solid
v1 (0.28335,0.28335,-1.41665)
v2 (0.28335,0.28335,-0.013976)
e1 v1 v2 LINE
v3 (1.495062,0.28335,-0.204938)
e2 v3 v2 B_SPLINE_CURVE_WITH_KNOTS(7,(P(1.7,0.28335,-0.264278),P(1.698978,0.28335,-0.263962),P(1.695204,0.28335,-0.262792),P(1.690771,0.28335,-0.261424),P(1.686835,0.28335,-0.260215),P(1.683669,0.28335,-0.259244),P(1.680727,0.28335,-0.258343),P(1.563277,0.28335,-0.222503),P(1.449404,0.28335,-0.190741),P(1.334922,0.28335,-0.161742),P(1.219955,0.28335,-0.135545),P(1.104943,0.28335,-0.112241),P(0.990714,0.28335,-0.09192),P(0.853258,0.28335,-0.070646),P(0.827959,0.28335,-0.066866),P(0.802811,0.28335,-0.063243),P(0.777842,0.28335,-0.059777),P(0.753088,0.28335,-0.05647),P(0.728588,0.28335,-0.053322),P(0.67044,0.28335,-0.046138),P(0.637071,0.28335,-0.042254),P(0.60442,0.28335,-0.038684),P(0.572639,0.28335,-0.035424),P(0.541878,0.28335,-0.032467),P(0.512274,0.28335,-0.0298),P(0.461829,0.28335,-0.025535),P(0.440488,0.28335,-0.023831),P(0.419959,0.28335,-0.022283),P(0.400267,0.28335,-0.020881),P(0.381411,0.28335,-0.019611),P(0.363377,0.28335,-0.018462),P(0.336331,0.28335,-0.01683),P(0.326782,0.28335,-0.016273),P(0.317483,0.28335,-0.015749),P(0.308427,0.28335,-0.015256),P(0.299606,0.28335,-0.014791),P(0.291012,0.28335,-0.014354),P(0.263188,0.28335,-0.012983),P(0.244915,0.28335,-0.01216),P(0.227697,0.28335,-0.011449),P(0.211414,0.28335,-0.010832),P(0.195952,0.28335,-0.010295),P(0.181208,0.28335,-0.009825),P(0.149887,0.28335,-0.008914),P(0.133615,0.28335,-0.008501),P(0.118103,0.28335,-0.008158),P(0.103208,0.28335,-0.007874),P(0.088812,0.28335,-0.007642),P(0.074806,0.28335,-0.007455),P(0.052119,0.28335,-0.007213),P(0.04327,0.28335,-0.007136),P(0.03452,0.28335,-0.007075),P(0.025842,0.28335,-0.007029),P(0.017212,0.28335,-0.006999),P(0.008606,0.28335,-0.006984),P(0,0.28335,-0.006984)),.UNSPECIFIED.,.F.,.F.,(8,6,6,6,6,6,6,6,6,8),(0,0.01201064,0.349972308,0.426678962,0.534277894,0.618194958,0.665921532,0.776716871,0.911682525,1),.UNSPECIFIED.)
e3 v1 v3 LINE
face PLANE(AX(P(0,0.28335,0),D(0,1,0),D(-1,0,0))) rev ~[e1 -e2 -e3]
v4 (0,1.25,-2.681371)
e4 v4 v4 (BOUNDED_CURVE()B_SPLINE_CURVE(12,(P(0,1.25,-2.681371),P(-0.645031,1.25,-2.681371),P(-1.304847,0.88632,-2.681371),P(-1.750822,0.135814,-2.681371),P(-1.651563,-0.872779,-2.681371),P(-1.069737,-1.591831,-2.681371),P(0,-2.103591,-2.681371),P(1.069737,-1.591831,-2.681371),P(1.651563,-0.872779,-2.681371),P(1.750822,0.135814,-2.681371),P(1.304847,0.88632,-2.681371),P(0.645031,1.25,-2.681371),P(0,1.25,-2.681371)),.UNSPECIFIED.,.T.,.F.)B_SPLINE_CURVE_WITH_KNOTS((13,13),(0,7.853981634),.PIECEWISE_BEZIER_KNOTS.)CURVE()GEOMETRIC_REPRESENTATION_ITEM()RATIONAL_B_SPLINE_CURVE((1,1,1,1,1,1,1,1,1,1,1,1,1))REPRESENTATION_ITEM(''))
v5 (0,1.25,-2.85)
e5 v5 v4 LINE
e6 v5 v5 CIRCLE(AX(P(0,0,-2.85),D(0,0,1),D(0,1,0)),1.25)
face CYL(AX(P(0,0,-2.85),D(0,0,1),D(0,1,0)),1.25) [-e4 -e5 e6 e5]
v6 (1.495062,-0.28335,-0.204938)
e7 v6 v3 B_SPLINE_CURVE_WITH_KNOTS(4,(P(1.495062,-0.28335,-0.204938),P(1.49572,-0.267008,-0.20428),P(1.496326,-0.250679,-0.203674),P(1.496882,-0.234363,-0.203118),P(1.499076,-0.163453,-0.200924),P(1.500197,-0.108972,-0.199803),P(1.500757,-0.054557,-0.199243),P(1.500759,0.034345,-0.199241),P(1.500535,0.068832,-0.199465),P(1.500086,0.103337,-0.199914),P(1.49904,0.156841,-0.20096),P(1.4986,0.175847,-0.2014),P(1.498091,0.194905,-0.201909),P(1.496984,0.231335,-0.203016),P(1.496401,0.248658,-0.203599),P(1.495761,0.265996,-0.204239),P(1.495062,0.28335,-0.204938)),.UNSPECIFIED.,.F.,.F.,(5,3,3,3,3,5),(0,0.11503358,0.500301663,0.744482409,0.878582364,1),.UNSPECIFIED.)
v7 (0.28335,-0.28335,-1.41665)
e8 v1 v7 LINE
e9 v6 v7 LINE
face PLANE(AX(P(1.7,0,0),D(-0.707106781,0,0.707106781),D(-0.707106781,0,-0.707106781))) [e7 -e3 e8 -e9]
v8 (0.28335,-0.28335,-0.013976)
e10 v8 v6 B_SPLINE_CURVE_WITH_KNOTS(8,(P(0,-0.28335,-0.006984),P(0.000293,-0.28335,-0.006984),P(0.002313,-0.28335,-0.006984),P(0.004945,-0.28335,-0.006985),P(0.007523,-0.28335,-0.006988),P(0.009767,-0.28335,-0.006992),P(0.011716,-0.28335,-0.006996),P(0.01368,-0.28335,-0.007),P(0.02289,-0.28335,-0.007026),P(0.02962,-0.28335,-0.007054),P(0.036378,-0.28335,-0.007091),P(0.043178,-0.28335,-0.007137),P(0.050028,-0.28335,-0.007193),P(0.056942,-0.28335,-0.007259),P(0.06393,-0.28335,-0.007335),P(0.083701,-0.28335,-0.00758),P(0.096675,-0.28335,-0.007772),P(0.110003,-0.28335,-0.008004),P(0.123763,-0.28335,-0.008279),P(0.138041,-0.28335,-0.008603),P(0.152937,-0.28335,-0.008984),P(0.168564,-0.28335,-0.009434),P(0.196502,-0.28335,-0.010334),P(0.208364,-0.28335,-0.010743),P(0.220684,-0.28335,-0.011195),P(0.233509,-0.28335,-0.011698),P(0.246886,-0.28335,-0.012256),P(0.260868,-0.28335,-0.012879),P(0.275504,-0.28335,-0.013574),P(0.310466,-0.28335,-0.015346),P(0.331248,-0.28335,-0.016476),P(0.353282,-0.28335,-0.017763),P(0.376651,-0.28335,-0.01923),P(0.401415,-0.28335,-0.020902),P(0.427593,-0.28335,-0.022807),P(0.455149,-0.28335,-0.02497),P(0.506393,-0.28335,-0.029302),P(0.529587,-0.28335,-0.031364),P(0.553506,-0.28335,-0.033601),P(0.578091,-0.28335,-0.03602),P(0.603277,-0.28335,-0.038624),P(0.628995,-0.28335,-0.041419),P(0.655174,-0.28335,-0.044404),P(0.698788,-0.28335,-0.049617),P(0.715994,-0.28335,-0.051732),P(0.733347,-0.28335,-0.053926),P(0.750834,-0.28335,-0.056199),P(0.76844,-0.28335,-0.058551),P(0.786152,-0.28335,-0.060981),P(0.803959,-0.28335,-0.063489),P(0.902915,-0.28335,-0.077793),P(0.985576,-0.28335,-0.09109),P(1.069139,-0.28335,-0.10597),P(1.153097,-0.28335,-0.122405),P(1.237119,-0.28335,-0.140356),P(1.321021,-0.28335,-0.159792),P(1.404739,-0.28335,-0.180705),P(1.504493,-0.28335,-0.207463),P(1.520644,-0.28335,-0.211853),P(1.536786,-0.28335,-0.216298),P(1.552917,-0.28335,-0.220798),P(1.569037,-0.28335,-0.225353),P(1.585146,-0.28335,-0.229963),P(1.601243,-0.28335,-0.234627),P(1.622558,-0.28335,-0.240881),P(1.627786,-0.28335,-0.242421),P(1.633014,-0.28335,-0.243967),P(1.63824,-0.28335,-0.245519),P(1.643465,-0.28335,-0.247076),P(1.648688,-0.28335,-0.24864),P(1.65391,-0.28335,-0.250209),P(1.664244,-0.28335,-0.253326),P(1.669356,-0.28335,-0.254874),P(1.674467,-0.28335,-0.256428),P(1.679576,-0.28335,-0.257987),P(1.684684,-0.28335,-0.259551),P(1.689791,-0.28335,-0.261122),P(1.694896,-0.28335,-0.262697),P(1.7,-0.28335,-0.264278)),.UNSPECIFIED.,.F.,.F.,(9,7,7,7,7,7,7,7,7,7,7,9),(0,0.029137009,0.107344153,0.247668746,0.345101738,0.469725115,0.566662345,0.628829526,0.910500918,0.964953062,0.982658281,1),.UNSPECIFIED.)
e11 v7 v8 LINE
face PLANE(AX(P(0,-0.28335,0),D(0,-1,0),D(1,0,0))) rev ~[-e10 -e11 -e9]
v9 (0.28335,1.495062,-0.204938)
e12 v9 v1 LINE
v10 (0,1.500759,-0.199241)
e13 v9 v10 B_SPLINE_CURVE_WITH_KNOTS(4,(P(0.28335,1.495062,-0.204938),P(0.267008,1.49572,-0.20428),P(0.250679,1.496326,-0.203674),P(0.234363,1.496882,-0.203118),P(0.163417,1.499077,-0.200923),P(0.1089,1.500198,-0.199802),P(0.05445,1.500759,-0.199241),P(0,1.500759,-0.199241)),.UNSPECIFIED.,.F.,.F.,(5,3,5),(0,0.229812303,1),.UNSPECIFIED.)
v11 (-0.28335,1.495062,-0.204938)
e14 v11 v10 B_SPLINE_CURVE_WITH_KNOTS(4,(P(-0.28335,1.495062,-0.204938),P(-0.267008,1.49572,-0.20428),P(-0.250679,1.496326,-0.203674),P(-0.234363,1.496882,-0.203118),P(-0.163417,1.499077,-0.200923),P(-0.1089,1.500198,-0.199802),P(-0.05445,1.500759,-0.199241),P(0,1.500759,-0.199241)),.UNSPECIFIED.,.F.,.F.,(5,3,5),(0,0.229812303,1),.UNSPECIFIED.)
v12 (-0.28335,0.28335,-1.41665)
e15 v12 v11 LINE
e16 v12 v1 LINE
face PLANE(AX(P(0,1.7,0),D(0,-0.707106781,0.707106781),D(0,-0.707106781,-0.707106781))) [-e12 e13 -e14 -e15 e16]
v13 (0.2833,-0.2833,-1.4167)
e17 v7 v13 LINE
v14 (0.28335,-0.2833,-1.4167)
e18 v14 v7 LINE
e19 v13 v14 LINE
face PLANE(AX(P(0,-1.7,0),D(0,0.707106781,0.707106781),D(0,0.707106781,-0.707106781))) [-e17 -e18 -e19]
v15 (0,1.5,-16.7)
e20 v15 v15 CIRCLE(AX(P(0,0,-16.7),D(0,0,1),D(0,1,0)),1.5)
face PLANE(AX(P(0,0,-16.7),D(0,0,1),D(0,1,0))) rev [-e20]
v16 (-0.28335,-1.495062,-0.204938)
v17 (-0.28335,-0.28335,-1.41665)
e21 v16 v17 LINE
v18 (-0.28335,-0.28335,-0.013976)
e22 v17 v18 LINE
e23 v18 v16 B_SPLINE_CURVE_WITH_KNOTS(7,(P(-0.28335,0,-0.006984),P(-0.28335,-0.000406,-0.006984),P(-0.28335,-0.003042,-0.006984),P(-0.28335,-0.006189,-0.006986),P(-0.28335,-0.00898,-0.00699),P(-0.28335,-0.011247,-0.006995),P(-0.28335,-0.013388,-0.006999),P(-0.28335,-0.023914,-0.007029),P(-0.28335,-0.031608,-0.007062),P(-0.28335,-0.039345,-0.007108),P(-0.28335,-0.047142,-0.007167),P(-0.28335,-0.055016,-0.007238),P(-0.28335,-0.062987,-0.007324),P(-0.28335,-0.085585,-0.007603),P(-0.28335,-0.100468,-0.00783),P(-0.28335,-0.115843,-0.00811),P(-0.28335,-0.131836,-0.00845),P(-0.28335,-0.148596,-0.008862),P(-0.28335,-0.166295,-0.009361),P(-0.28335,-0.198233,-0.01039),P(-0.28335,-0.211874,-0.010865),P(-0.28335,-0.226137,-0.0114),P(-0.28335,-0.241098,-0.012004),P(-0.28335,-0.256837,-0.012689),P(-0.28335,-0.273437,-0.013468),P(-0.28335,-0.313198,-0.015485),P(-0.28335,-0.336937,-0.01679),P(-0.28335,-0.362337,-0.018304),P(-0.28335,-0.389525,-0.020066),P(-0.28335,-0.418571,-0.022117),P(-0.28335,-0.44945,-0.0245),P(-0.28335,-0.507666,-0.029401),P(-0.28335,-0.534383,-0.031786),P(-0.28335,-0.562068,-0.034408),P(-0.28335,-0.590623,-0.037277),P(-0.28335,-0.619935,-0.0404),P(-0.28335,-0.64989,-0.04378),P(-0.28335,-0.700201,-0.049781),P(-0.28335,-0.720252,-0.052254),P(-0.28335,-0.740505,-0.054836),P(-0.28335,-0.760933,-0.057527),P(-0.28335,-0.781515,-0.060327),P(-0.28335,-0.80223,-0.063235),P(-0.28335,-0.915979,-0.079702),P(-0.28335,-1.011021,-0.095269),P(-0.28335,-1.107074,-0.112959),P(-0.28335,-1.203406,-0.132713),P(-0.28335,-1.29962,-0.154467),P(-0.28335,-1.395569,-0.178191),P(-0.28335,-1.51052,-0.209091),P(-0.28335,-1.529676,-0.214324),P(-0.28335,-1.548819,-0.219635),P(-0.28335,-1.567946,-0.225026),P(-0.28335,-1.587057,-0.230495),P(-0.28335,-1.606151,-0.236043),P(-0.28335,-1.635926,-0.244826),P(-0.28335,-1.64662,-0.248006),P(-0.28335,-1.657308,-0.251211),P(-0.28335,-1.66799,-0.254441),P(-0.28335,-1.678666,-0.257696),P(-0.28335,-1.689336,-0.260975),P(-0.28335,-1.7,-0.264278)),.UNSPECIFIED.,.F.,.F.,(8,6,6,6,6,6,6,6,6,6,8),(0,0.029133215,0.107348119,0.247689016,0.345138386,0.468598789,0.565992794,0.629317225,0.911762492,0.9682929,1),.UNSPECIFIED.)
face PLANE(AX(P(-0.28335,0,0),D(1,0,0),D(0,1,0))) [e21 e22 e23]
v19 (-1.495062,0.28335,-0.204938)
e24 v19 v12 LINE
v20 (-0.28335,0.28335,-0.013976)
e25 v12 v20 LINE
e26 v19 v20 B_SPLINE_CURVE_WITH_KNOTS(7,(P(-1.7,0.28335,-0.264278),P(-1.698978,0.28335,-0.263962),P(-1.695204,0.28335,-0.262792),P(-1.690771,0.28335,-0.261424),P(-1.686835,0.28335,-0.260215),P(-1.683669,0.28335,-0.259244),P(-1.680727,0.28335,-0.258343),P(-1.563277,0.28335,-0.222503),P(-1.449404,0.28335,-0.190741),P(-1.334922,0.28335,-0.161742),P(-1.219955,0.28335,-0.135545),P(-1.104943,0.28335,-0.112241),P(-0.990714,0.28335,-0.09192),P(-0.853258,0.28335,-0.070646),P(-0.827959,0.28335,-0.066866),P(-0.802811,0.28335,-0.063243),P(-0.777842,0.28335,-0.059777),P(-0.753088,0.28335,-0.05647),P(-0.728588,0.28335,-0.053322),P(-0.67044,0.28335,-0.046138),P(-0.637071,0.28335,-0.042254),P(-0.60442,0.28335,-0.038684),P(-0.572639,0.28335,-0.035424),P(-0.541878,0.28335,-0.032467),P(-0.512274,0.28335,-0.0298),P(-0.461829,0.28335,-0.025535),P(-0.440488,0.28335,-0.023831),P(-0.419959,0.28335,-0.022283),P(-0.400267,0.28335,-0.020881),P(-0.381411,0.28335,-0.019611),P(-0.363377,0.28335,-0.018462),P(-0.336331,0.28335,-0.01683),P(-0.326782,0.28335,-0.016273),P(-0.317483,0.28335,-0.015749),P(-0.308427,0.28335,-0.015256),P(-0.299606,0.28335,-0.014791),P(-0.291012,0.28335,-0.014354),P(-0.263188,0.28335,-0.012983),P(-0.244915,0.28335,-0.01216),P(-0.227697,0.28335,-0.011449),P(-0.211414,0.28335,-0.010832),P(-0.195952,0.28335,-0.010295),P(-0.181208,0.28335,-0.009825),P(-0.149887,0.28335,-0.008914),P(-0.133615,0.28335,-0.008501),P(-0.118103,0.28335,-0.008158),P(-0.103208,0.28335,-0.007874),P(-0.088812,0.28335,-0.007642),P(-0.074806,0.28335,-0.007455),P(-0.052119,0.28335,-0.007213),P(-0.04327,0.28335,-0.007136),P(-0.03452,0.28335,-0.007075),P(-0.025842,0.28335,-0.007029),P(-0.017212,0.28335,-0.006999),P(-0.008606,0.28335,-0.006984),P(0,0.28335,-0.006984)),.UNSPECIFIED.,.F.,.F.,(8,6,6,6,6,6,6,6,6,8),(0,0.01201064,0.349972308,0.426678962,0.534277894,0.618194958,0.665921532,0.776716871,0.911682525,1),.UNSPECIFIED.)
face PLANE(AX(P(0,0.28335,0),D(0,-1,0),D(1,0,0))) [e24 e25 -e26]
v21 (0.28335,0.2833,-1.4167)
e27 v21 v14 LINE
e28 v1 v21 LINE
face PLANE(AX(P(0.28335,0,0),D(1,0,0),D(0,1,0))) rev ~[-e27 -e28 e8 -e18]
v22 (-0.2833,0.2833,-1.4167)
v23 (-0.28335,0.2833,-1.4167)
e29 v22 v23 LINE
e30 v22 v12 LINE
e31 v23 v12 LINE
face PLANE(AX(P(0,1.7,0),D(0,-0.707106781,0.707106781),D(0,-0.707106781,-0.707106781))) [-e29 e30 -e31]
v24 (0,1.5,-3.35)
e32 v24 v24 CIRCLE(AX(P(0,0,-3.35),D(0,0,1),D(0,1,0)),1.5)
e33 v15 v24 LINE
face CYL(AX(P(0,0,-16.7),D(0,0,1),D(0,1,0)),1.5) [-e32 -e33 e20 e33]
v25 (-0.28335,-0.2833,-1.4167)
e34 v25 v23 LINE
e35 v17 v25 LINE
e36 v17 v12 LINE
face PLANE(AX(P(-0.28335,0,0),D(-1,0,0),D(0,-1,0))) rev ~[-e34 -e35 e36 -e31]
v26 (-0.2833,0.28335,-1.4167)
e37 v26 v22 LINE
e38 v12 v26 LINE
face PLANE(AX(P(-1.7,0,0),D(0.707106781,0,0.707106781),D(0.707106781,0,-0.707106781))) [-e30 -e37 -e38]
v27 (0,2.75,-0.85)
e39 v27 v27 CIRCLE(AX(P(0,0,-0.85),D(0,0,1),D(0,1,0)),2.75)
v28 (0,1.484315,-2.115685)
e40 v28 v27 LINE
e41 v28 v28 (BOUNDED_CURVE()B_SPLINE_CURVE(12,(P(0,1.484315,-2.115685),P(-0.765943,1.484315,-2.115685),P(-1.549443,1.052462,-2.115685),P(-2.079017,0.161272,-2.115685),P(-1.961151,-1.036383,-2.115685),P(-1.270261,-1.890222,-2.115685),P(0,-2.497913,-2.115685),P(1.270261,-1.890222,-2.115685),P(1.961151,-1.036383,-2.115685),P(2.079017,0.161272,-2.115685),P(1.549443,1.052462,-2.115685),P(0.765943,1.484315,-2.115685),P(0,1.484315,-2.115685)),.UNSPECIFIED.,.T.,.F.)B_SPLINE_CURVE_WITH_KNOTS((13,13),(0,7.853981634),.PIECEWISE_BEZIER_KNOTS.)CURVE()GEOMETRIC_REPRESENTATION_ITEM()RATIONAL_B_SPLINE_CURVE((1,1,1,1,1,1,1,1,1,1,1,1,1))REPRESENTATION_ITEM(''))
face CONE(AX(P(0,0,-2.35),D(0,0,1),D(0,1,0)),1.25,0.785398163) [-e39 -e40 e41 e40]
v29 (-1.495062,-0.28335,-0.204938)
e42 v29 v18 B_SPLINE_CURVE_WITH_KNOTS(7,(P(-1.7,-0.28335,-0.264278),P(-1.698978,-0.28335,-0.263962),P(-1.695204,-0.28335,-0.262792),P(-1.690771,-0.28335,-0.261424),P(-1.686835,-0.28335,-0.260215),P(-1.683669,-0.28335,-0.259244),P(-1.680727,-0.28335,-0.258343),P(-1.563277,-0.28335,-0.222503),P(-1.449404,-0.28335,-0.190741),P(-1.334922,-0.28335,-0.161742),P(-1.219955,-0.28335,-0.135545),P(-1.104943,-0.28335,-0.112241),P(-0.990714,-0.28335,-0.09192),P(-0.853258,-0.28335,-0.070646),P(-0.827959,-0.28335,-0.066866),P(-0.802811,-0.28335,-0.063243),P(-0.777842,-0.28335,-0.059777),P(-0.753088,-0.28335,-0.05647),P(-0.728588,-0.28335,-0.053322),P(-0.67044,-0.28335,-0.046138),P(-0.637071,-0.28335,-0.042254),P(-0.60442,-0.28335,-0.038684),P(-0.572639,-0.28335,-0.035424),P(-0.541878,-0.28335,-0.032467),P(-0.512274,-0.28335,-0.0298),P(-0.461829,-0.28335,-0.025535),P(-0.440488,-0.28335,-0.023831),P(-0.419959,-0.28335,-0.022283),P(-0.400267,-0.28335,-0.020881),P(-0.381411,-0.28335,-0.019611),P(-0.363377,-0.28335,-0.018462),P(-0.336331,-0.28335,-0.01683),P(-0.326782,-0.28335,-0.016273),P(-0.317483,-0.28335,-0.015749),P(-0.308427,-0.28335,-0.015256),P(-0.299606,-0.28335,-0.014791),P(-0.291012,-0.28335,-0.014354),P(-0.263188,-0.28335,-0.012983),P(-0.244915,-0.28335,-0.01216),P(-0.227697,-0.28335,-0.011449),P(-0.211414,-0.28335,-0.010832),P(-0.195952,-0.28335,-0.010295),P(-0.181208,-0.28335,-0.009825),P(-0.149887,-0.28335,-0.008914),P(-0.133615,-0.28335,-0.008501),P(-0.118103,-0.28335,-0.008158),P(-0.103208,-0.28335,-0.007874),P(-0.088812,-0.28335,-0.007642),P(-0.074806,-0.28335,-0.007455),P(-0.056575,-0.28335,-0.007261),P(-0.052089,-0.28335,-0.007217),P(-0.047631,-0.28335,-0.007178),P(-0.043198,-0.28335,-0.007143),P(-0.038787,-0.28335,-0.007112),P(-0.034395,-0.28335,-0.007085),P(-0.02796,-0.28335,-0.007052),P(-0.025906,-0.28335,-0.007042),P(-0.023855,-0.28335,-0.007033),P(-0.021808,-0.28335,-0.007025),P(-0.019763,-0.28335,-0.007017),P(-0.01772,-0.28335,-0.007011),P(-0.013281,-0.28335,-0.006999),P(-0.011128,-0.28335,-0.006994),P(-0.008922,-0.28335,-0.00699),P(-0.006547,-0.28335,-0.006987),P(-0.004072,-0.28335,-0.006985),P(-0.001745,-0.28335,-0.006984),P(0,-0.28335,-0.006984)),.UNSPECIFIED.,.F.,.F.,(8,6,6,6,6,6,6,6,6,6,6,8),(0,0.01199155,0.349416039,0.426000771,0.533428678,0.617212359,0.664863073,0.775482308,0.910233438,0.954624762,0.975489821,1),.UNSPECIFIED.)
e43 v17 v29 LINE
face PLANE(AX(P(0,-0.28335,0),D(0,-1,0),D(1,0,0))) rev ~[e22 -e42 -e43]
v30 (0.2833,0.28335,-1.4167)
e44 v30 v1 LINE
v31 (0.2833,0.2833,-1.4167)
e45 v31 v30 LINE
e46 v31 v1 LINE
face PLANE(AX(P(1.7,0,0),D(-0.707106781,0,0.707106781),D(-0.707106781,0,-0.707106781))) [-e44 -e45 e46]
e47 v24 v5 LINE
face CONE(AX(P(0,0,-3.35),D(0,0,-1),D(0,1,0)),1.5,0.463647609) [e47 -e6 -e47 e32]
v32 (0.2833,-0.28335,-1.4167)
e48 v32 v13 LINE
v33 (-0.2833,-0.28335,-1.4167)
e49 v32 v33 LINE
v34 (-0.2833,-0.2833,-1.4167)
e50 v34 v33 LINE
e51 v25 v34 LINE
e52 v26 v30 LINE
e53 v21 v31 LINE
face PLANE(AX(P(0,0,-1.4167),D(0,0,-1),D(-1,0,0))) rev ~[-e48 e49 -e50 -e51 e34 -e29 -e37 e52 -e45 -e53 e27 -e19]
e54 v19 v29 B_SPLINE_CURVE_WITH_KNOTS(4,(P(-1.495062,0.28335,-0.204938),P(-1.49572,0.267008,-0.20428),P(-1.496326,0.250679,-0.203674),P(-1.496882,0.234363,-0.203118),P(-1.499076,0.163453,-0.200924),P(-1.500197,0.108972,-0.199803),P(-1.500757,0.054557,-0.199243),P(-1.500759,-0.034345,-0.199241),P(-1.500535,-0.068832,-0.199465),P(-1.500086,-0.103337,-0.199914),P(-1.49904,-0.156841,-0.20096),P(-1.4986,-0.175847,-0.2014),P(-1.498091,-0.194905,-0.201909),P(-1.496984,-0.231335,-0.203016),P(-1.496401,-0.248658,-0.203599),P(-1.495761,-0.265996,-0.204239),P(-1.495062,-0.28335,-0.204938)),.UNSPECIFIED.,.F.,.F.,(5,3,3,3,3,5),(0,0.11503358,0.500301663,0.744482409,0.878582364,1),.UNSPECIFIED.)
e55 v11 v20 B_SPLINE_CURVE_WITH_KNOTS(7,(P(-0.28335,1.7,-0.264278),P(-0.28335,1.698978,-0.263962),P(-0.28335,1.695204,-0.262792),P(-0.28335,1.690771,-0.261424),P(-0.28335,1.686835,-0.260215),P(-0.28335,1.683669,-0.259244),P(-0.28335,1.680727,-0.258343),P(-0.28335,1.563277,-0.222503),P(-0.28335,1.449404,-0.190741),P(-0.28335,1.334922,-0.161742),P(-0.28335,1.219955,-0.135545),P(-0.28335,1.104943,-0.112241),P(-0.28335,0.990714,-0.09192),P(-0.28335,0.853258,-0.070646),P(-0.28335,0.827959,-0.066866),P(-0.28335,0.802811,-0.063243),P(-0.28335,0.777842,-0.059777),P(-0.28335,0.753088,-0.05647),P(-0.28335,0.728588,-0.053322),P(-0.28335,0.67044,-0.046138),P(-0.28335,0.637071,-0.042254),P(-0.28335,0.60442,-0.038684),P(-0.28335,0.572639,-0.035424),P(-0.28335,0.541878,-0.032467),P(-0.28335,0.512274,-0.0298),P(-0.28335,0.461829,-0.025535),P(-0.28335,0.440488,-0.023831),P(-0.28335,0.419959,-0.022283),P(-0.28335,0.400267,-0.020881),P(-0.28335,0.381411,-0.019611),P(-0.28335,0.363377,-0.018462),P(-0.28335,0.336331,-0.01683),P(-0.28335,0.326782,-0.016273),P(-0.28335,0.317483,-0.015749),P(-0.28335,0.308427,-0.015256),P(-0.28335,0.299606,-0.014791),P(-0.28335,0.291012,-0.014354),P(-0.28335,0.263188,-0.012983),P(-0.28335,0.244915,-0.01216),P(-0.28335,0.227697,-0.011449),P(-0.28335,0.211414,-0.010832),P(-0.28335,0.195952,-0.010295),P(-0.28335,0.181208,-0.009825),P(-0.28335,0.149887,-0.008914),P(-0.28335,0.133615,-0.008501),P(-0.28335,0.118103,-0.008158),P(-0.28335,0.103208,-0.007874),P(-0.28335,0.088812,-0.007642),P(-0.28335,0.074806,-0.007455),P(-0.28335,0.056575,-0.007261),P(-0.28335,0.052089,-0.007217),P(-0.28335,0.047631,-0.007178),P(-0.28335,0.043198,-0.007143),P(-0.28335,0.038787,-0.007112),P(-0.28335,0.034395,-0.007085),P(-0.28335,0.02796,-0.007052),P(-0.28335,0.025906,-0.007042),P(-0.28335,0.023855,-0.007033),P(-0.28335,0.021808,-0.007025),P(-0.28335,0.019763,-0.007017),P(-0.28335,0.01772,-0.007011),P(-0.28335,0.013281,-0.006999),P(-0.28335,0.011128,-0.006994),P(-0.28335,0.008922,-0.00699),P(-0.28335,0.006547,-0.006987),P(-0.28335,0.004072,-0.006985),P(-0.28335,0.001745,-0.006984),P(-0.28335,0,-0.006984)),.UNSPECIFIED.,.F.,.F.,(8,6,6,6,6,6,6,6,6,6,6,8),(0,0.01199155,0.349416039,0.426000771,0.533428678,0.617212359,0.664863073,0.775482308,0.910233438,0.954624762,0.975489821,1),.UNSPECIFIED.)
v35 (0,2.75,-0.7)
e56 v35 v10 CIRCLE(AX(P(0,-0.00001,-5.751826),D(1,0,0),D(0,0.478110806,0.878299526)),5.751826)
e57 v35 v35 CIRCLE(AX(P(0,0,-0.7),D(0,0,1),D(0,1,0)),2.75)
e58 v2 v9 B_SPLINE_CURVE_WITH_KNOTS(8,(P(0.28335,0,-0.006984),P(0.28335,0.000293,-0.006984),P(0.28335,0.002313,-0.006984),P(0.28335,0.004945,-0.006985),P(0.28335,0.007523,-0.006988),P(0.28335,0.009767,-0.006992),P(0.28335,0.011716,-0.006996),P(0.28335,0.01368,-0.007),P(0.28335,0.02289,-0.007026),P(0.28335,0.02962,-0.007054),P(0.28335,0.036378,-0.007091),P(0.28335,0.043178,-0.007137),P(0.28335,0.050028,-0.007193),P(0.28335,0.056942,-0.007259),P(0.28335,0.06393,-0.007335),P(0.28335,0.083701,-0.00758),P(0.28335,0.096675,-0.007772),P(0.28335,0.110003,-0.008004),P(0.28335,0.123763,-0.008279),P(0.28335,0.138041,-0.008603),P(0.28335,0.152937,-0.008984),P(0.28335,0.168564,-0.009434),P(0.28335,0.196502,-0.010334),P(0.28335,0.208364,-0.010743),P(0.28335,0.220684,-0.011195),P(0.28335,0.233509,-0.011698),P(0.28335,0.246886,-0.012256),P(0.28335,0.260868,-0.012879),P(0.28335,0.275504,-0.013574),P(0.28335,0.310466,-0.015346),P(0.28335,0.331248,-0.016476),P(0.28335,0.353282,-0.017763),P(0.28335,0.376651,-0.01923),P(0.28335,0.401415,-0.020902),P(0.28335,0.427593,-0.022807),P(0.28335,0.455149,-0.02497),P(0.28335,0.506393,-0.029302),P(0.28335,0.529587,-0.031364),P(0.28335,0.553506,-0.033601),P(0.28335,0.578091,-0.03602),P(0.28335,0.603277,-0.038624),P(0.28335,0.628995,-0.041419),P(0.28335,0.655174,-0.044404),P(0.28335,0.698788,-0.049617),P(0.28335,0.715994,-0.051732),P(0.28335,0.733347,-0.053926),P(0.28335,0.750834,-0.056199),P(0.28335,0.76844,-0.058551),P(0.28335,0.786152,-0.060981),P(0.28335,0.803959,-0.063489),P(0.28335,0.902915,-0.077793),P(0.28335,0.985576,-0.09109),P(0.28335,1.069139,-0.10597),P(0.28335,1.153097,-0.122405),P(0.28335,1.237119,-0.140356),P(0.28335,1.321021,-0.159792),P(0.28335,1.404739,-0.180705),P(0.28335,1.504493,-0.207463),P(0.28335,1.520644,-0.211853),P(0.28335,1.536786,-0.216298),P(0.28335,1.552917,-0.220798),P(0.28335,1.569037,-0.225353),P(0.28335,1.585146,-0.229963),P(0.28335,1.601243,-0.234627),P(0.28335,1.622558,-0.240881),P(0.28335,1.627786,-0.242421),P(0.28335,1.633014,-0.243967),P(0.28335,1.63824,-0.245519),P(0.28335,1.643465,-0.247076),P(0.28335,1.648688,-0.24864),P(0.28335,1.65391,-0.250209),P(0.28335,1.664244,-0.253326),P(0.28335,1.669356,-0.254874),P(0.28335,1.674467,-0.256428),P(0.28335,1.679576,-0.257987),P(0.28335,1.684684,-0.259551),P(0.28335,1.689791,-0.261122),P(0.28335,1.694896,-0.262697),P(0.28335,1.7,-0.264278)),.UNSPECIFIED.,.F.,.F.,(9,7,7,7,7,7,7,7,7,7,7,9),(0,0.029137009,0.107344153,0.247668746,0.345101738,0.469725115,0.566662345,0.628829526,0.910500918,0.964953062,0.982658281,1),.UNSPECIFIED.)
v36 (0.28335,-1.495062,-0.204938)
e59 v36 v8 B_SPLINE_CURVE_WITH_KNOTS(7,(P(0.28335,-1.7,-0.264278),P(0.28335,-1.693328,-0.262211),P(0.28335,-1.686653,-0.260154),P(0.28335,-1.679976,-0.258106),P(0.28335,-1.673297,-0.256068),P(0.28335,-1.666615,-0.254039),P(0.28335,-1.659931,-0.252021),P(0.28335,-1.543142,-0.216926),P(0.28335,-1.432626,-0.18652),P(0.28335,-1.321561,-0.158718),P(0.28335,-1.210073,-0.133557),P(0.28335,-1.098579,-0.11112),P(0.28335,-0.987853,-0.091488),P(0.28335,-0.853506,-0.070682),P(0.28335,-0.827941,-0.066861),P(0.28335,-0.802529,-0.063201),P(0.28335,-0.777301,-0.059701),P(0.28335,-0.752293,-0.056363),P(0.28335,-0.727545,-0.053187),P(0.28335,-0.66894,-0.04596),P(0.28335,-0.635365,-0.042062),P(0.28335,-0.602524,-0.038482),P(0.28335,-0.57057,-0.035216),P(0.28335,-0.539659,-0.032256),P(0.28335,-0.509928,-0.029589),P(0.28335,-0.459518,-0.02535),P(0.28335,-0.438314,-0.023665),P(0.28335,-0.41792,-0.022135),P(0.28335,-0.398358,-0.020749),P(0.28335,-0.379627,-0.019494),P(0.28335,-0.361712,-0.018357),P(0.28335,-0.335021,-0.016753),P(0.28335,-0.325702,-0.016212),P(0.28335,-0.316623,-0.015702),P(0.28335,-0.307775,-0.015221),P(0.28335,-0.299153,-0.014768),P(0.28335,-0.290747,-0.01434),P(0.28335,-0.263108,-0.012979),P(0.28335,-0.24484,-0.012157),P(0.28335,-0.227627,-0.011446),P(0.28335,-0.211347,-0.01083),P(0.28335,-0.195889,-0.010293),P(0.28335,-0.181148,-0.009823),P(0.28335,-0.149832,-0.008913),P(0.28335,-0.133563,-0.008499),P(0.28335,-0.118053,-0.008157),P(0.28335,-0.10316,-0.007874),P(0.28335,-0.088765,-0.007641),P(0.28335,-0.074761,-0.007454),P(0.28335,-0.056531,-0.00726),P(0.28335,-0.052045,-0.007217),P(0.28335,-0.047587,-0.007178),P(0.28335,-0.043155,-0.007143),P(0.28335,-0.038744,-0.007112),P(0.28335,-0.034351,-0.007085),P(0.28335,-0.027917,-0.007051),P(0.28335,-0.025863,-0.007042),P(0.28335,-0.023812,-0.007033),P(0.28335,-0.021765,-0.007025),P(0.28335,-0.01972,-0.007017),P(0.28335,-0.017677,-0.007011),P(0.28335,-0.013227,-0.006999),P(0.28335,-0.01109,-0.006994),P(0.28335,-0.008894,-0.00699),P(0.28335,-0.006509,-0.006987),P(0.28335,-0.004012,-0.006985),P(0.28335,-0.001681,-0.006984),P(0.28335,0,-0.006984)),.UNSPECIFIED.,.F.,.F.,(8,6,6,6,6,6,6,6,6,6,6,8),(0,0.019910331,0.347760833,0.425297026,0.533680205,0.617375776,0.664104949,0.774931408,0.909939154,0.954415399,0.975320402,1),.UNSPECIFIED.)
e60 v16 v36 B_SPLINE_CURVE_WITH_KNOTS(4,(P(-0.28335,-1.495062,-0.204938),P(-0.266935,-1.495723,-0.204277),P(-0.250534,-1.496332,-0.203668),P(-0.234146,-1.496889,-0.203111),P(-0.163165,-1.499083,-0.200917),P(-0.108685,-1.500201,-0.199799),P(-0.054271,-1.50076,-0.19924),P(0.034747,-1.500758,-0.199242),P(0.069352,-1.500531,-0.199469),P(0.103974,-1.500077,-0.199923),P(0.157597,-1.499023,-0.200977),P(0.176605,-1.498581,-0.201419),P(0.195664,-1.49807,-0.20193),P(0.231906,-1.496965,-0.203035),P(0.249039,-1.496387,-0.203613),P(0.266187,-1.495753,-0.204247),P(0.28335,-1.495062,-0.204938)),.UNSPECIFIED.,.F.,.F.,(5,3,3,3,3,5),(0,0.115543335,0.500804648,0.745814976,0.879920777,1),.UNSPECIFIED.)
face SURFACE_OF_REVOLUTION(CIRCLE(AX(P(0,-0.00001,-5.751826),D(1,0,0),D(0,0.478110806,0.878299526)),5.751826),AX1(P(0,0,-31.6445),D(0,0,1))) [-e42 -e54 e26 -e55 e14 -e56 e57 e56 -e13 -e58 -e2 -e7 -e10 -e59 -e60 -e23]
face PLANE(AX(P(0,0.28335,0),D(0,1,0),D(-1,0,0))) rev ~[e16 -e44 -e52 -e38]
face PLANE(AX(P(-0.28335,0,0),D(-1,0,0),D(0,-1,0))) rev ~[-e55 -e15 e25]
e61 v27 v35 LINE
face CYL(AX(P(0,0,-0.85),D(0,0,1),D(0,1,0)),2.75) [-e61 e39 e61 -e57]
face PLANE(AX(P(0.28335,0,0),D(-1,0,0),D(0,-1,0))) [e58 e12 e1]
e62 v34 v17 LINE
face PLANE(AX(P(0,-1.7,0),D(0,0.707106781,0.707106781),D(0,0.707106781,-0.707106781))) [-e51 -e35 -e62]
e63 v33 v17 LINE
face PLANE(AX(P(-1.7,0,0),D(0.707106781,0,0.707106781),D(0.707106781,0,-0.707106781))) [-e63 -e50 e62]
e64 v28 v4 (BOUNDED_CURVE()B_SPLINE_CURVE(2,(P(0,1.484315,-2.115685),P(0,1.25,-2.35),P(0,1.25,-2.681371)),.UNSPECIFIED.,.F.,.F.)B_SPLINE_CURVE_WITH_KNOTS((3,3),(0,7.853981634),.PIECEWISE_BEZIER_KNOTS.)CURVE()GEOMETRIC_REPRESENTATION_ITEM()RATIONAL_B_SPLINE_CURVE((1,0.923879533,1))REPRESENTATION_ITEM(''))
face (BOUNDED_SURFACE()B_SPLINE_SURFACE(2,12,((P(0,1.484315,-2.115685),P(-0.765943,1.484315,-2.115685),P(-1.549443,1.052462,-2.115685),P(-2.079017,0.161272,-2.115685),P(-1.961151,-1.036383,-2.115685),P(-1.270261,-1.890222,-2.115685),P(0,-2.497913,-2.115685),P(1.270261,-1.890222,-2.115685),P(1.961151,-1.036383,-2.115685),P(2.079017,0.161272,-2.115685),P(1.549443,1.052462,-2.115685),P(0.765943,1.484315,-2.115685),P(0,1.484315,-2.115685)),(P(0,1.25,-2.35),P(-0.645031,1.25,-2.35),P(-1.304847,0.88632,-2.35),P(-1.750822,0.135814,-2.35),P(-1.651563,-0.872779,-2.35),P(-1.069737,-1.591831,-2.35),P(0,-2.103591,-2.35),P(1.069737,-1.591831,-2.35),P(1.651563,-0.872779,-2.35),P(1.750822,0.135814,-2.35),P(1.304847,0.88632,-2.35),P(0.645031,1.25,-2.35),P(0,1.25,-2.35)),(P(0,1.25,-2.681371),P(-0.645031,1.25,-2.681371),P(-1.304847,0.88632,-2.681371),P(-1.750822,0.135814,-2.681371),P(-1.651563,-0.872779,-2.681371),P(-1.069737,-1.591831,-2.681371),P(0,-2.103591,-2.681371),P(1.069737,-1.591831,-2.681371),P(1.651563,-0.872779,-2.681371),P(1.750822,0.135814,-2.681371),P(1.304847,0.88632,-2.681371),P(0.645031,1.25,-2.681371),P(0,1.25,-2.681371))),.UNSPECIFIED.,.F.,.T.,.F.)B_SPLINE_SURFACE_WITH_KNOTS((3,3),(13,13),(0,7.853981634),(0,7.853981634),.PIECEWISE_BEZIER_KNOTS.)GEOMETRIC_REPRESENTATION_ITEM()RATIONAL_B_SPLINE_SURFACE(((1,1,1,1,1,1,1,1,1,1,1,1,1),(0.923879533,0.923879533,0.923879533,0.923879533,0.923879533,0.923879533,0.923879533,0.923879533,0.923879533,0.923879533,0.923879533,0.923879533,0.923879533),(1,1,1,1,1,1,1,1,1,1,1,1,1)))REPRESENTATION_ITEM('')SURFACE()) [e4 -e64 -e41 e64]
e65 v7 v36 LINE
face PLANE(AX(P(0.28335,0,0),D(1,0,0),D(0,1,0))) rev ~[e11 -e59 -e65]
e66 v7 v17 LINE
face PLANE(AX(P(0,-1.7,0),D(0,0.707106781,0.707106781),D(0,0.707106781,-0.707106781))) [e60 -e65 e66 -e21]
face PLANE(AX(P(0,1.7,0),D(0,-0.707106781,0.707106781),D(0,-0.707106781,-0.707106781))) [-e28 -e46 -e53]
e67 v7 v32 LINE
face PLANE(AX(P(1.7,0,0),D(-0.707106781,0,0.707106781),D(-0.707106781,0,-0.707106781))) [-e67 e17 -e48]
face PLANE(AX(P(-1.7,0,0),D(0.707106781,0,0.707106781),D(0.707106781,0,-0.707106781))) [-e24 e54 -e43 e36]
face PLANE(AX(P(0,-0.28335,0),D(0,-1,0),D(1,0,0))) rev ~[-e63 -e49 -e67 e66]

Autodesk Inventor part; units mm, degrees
ref_plane "WorkPlane2" through (0, 0, 0) normal (0, 0, 1) x (1, 0, 0)
sketch "Sketch1" plane through (0, 0, 0) normal (1, 0, 0) x (0, 1, 0)
  point P0 (0, 0)
ref_plane "Work Plane2" through (0, 0, -2.35) normal (0, 0, 1) x (1, 0, 0)
ref_plane "WorkPlane3" through (0, 0, 7) normal (0, 0, 1) x (1, 0, 0)
sketch "Sketch2" plane through (0, 0, 0) normal (0, 1, 0) x (-1, 0, 0)
  point P0 (0, 0)
sketch "Sketch3" plane through (0, 0, 0) normal (1, 0, 0) x (0, 1, 0)
  line L0 (1.5, -3.35) -> (1.25, -2.85)
  line L1 (1.5, -16.7) -> (1.5, -3.35)
  line L2 (0, -16.7) -> (1.5, -16.7)
  line L3 (0, 0) -> (0, -16.7)
  arc A0 (2.75, -0.7) -> (0, 0) centre (0, -5.7518) ccw
  line L4 (2.75, -0.85) -> (2.75, -0.7)
  line L5 (1.25, -2.35) -> (2.75, -0.85)
  line L6 (1.25, -2.85) -> (1.25, -2.35)
  line L7 (0, -31.6445) -> (0, 31.6445) construction
  line L8 (0, -31.6445) -> (0, 31.6445)
  line L9 (0, -44.3023) -> (0, 44.3023) projected
  dimension "d2" = 1.5
  dimension "d4" = 1.25
  dimension "d6" = 0.5
  dimension "d8" = 1.65
  dimension "d10" = 135
  dimension "d12" = 2.75
  dimension "d14" = 0
  dimension "d16" = 0.7
  dimension "d18" = 16
  dimension "d22" = 13.35
revolve "Revolution1" add sketch "Sketch3" angle 360 about axis through (0, 0, -31.6445) along (0, 0, 1)
fillet "Fillet1" radius 0.8 1 edges at (0, -1.25, -2.35)
sketch "Sketch4" plane through (0, 0, 0) normal (0, 1, 0) x (-1, 0, 0)
  line L0 (0, 0) -> (-1.7, 0)
  line L1 (0, -1.4167) -> (0, 0)
  line L2 (-1.7, 0) -> (-0.2833, -1.4167)
  line L3 (0, -6.9021) -> (0, 1.1504) projected
  arc A0 (2.75, -0.7) -> (-2.75, -0.7) centre (0, -5.7518) ccw projected
  line L4 (0, -1.4167) -> (-0.2833, -1.4167)
  point P0 (0, -1.7)
  dimension "d30" = 45
  dimension "d33" = 3.4
  dimension "d34" = 0.2833
  dimension "d35" = 90
extrude "Extrusion1" cut sketch "Sketch4" along normal mid plane 0.5667
pattern_circular "PolarArray1" count 4 over 360 about axis through (0, 0, -10) along (0, 0, 1) of "Extrusion1"
thread "Thread1" size "M3x0.5" class "6g" standard "ISO Metric profile" full length
ref_plane "MSC_PF1" through (0, 0, 0) normal (1, 0, 0) x (0, 1, 0)
ref_plane "MSC_PT1" through (0, 2.75, -0.85) normal (0, 0, -1) x (-1, 0, 0)
equation "\"d2\" = 0.5 * NND"
equation "\"d4\" = 0.5 * msp_mdtds"
equation "\"d6\" = msp_x"
equation "\"d8\" = ParK"
equation "\"d12\" = 0.5 * Dk"
equation "\"d16\" = ParF"
equation "\"d18\" = NLG"
equation "\"d22\" = b"
equation "\"d24\" = r"
equation "\"d33\" = M"
equation "\"d34\" = 0.0833333 * M"
equation "\"d31\" = 0.166667 * M"
equation "\"d39\" = b"
equation "\"PTC\" = 0.5"
equation "\"msp_x\" = PTC"
equation "\"NLG\" = 16"
equation "\"NND\" = 3"
equation "\"ParK\" = 1.65"
equation "\"r\" = 0.8"
equation "\"msp_mdtds\" = NND - PTC"
equation "\"b\" = 13.35"
equation "\"Dk\" = 5.5"
equation "\"ParF\" = 0.7"
equation "\"M\" = 3.4"
equation "\"ParA\" = 1"
equation "\"THREADDIA\" = NND"
equation "\"TEMPLATE\" = 1.2345"
properties part number "ISO 7047 - M3x16 - 4.8 - H" material "Steel"
